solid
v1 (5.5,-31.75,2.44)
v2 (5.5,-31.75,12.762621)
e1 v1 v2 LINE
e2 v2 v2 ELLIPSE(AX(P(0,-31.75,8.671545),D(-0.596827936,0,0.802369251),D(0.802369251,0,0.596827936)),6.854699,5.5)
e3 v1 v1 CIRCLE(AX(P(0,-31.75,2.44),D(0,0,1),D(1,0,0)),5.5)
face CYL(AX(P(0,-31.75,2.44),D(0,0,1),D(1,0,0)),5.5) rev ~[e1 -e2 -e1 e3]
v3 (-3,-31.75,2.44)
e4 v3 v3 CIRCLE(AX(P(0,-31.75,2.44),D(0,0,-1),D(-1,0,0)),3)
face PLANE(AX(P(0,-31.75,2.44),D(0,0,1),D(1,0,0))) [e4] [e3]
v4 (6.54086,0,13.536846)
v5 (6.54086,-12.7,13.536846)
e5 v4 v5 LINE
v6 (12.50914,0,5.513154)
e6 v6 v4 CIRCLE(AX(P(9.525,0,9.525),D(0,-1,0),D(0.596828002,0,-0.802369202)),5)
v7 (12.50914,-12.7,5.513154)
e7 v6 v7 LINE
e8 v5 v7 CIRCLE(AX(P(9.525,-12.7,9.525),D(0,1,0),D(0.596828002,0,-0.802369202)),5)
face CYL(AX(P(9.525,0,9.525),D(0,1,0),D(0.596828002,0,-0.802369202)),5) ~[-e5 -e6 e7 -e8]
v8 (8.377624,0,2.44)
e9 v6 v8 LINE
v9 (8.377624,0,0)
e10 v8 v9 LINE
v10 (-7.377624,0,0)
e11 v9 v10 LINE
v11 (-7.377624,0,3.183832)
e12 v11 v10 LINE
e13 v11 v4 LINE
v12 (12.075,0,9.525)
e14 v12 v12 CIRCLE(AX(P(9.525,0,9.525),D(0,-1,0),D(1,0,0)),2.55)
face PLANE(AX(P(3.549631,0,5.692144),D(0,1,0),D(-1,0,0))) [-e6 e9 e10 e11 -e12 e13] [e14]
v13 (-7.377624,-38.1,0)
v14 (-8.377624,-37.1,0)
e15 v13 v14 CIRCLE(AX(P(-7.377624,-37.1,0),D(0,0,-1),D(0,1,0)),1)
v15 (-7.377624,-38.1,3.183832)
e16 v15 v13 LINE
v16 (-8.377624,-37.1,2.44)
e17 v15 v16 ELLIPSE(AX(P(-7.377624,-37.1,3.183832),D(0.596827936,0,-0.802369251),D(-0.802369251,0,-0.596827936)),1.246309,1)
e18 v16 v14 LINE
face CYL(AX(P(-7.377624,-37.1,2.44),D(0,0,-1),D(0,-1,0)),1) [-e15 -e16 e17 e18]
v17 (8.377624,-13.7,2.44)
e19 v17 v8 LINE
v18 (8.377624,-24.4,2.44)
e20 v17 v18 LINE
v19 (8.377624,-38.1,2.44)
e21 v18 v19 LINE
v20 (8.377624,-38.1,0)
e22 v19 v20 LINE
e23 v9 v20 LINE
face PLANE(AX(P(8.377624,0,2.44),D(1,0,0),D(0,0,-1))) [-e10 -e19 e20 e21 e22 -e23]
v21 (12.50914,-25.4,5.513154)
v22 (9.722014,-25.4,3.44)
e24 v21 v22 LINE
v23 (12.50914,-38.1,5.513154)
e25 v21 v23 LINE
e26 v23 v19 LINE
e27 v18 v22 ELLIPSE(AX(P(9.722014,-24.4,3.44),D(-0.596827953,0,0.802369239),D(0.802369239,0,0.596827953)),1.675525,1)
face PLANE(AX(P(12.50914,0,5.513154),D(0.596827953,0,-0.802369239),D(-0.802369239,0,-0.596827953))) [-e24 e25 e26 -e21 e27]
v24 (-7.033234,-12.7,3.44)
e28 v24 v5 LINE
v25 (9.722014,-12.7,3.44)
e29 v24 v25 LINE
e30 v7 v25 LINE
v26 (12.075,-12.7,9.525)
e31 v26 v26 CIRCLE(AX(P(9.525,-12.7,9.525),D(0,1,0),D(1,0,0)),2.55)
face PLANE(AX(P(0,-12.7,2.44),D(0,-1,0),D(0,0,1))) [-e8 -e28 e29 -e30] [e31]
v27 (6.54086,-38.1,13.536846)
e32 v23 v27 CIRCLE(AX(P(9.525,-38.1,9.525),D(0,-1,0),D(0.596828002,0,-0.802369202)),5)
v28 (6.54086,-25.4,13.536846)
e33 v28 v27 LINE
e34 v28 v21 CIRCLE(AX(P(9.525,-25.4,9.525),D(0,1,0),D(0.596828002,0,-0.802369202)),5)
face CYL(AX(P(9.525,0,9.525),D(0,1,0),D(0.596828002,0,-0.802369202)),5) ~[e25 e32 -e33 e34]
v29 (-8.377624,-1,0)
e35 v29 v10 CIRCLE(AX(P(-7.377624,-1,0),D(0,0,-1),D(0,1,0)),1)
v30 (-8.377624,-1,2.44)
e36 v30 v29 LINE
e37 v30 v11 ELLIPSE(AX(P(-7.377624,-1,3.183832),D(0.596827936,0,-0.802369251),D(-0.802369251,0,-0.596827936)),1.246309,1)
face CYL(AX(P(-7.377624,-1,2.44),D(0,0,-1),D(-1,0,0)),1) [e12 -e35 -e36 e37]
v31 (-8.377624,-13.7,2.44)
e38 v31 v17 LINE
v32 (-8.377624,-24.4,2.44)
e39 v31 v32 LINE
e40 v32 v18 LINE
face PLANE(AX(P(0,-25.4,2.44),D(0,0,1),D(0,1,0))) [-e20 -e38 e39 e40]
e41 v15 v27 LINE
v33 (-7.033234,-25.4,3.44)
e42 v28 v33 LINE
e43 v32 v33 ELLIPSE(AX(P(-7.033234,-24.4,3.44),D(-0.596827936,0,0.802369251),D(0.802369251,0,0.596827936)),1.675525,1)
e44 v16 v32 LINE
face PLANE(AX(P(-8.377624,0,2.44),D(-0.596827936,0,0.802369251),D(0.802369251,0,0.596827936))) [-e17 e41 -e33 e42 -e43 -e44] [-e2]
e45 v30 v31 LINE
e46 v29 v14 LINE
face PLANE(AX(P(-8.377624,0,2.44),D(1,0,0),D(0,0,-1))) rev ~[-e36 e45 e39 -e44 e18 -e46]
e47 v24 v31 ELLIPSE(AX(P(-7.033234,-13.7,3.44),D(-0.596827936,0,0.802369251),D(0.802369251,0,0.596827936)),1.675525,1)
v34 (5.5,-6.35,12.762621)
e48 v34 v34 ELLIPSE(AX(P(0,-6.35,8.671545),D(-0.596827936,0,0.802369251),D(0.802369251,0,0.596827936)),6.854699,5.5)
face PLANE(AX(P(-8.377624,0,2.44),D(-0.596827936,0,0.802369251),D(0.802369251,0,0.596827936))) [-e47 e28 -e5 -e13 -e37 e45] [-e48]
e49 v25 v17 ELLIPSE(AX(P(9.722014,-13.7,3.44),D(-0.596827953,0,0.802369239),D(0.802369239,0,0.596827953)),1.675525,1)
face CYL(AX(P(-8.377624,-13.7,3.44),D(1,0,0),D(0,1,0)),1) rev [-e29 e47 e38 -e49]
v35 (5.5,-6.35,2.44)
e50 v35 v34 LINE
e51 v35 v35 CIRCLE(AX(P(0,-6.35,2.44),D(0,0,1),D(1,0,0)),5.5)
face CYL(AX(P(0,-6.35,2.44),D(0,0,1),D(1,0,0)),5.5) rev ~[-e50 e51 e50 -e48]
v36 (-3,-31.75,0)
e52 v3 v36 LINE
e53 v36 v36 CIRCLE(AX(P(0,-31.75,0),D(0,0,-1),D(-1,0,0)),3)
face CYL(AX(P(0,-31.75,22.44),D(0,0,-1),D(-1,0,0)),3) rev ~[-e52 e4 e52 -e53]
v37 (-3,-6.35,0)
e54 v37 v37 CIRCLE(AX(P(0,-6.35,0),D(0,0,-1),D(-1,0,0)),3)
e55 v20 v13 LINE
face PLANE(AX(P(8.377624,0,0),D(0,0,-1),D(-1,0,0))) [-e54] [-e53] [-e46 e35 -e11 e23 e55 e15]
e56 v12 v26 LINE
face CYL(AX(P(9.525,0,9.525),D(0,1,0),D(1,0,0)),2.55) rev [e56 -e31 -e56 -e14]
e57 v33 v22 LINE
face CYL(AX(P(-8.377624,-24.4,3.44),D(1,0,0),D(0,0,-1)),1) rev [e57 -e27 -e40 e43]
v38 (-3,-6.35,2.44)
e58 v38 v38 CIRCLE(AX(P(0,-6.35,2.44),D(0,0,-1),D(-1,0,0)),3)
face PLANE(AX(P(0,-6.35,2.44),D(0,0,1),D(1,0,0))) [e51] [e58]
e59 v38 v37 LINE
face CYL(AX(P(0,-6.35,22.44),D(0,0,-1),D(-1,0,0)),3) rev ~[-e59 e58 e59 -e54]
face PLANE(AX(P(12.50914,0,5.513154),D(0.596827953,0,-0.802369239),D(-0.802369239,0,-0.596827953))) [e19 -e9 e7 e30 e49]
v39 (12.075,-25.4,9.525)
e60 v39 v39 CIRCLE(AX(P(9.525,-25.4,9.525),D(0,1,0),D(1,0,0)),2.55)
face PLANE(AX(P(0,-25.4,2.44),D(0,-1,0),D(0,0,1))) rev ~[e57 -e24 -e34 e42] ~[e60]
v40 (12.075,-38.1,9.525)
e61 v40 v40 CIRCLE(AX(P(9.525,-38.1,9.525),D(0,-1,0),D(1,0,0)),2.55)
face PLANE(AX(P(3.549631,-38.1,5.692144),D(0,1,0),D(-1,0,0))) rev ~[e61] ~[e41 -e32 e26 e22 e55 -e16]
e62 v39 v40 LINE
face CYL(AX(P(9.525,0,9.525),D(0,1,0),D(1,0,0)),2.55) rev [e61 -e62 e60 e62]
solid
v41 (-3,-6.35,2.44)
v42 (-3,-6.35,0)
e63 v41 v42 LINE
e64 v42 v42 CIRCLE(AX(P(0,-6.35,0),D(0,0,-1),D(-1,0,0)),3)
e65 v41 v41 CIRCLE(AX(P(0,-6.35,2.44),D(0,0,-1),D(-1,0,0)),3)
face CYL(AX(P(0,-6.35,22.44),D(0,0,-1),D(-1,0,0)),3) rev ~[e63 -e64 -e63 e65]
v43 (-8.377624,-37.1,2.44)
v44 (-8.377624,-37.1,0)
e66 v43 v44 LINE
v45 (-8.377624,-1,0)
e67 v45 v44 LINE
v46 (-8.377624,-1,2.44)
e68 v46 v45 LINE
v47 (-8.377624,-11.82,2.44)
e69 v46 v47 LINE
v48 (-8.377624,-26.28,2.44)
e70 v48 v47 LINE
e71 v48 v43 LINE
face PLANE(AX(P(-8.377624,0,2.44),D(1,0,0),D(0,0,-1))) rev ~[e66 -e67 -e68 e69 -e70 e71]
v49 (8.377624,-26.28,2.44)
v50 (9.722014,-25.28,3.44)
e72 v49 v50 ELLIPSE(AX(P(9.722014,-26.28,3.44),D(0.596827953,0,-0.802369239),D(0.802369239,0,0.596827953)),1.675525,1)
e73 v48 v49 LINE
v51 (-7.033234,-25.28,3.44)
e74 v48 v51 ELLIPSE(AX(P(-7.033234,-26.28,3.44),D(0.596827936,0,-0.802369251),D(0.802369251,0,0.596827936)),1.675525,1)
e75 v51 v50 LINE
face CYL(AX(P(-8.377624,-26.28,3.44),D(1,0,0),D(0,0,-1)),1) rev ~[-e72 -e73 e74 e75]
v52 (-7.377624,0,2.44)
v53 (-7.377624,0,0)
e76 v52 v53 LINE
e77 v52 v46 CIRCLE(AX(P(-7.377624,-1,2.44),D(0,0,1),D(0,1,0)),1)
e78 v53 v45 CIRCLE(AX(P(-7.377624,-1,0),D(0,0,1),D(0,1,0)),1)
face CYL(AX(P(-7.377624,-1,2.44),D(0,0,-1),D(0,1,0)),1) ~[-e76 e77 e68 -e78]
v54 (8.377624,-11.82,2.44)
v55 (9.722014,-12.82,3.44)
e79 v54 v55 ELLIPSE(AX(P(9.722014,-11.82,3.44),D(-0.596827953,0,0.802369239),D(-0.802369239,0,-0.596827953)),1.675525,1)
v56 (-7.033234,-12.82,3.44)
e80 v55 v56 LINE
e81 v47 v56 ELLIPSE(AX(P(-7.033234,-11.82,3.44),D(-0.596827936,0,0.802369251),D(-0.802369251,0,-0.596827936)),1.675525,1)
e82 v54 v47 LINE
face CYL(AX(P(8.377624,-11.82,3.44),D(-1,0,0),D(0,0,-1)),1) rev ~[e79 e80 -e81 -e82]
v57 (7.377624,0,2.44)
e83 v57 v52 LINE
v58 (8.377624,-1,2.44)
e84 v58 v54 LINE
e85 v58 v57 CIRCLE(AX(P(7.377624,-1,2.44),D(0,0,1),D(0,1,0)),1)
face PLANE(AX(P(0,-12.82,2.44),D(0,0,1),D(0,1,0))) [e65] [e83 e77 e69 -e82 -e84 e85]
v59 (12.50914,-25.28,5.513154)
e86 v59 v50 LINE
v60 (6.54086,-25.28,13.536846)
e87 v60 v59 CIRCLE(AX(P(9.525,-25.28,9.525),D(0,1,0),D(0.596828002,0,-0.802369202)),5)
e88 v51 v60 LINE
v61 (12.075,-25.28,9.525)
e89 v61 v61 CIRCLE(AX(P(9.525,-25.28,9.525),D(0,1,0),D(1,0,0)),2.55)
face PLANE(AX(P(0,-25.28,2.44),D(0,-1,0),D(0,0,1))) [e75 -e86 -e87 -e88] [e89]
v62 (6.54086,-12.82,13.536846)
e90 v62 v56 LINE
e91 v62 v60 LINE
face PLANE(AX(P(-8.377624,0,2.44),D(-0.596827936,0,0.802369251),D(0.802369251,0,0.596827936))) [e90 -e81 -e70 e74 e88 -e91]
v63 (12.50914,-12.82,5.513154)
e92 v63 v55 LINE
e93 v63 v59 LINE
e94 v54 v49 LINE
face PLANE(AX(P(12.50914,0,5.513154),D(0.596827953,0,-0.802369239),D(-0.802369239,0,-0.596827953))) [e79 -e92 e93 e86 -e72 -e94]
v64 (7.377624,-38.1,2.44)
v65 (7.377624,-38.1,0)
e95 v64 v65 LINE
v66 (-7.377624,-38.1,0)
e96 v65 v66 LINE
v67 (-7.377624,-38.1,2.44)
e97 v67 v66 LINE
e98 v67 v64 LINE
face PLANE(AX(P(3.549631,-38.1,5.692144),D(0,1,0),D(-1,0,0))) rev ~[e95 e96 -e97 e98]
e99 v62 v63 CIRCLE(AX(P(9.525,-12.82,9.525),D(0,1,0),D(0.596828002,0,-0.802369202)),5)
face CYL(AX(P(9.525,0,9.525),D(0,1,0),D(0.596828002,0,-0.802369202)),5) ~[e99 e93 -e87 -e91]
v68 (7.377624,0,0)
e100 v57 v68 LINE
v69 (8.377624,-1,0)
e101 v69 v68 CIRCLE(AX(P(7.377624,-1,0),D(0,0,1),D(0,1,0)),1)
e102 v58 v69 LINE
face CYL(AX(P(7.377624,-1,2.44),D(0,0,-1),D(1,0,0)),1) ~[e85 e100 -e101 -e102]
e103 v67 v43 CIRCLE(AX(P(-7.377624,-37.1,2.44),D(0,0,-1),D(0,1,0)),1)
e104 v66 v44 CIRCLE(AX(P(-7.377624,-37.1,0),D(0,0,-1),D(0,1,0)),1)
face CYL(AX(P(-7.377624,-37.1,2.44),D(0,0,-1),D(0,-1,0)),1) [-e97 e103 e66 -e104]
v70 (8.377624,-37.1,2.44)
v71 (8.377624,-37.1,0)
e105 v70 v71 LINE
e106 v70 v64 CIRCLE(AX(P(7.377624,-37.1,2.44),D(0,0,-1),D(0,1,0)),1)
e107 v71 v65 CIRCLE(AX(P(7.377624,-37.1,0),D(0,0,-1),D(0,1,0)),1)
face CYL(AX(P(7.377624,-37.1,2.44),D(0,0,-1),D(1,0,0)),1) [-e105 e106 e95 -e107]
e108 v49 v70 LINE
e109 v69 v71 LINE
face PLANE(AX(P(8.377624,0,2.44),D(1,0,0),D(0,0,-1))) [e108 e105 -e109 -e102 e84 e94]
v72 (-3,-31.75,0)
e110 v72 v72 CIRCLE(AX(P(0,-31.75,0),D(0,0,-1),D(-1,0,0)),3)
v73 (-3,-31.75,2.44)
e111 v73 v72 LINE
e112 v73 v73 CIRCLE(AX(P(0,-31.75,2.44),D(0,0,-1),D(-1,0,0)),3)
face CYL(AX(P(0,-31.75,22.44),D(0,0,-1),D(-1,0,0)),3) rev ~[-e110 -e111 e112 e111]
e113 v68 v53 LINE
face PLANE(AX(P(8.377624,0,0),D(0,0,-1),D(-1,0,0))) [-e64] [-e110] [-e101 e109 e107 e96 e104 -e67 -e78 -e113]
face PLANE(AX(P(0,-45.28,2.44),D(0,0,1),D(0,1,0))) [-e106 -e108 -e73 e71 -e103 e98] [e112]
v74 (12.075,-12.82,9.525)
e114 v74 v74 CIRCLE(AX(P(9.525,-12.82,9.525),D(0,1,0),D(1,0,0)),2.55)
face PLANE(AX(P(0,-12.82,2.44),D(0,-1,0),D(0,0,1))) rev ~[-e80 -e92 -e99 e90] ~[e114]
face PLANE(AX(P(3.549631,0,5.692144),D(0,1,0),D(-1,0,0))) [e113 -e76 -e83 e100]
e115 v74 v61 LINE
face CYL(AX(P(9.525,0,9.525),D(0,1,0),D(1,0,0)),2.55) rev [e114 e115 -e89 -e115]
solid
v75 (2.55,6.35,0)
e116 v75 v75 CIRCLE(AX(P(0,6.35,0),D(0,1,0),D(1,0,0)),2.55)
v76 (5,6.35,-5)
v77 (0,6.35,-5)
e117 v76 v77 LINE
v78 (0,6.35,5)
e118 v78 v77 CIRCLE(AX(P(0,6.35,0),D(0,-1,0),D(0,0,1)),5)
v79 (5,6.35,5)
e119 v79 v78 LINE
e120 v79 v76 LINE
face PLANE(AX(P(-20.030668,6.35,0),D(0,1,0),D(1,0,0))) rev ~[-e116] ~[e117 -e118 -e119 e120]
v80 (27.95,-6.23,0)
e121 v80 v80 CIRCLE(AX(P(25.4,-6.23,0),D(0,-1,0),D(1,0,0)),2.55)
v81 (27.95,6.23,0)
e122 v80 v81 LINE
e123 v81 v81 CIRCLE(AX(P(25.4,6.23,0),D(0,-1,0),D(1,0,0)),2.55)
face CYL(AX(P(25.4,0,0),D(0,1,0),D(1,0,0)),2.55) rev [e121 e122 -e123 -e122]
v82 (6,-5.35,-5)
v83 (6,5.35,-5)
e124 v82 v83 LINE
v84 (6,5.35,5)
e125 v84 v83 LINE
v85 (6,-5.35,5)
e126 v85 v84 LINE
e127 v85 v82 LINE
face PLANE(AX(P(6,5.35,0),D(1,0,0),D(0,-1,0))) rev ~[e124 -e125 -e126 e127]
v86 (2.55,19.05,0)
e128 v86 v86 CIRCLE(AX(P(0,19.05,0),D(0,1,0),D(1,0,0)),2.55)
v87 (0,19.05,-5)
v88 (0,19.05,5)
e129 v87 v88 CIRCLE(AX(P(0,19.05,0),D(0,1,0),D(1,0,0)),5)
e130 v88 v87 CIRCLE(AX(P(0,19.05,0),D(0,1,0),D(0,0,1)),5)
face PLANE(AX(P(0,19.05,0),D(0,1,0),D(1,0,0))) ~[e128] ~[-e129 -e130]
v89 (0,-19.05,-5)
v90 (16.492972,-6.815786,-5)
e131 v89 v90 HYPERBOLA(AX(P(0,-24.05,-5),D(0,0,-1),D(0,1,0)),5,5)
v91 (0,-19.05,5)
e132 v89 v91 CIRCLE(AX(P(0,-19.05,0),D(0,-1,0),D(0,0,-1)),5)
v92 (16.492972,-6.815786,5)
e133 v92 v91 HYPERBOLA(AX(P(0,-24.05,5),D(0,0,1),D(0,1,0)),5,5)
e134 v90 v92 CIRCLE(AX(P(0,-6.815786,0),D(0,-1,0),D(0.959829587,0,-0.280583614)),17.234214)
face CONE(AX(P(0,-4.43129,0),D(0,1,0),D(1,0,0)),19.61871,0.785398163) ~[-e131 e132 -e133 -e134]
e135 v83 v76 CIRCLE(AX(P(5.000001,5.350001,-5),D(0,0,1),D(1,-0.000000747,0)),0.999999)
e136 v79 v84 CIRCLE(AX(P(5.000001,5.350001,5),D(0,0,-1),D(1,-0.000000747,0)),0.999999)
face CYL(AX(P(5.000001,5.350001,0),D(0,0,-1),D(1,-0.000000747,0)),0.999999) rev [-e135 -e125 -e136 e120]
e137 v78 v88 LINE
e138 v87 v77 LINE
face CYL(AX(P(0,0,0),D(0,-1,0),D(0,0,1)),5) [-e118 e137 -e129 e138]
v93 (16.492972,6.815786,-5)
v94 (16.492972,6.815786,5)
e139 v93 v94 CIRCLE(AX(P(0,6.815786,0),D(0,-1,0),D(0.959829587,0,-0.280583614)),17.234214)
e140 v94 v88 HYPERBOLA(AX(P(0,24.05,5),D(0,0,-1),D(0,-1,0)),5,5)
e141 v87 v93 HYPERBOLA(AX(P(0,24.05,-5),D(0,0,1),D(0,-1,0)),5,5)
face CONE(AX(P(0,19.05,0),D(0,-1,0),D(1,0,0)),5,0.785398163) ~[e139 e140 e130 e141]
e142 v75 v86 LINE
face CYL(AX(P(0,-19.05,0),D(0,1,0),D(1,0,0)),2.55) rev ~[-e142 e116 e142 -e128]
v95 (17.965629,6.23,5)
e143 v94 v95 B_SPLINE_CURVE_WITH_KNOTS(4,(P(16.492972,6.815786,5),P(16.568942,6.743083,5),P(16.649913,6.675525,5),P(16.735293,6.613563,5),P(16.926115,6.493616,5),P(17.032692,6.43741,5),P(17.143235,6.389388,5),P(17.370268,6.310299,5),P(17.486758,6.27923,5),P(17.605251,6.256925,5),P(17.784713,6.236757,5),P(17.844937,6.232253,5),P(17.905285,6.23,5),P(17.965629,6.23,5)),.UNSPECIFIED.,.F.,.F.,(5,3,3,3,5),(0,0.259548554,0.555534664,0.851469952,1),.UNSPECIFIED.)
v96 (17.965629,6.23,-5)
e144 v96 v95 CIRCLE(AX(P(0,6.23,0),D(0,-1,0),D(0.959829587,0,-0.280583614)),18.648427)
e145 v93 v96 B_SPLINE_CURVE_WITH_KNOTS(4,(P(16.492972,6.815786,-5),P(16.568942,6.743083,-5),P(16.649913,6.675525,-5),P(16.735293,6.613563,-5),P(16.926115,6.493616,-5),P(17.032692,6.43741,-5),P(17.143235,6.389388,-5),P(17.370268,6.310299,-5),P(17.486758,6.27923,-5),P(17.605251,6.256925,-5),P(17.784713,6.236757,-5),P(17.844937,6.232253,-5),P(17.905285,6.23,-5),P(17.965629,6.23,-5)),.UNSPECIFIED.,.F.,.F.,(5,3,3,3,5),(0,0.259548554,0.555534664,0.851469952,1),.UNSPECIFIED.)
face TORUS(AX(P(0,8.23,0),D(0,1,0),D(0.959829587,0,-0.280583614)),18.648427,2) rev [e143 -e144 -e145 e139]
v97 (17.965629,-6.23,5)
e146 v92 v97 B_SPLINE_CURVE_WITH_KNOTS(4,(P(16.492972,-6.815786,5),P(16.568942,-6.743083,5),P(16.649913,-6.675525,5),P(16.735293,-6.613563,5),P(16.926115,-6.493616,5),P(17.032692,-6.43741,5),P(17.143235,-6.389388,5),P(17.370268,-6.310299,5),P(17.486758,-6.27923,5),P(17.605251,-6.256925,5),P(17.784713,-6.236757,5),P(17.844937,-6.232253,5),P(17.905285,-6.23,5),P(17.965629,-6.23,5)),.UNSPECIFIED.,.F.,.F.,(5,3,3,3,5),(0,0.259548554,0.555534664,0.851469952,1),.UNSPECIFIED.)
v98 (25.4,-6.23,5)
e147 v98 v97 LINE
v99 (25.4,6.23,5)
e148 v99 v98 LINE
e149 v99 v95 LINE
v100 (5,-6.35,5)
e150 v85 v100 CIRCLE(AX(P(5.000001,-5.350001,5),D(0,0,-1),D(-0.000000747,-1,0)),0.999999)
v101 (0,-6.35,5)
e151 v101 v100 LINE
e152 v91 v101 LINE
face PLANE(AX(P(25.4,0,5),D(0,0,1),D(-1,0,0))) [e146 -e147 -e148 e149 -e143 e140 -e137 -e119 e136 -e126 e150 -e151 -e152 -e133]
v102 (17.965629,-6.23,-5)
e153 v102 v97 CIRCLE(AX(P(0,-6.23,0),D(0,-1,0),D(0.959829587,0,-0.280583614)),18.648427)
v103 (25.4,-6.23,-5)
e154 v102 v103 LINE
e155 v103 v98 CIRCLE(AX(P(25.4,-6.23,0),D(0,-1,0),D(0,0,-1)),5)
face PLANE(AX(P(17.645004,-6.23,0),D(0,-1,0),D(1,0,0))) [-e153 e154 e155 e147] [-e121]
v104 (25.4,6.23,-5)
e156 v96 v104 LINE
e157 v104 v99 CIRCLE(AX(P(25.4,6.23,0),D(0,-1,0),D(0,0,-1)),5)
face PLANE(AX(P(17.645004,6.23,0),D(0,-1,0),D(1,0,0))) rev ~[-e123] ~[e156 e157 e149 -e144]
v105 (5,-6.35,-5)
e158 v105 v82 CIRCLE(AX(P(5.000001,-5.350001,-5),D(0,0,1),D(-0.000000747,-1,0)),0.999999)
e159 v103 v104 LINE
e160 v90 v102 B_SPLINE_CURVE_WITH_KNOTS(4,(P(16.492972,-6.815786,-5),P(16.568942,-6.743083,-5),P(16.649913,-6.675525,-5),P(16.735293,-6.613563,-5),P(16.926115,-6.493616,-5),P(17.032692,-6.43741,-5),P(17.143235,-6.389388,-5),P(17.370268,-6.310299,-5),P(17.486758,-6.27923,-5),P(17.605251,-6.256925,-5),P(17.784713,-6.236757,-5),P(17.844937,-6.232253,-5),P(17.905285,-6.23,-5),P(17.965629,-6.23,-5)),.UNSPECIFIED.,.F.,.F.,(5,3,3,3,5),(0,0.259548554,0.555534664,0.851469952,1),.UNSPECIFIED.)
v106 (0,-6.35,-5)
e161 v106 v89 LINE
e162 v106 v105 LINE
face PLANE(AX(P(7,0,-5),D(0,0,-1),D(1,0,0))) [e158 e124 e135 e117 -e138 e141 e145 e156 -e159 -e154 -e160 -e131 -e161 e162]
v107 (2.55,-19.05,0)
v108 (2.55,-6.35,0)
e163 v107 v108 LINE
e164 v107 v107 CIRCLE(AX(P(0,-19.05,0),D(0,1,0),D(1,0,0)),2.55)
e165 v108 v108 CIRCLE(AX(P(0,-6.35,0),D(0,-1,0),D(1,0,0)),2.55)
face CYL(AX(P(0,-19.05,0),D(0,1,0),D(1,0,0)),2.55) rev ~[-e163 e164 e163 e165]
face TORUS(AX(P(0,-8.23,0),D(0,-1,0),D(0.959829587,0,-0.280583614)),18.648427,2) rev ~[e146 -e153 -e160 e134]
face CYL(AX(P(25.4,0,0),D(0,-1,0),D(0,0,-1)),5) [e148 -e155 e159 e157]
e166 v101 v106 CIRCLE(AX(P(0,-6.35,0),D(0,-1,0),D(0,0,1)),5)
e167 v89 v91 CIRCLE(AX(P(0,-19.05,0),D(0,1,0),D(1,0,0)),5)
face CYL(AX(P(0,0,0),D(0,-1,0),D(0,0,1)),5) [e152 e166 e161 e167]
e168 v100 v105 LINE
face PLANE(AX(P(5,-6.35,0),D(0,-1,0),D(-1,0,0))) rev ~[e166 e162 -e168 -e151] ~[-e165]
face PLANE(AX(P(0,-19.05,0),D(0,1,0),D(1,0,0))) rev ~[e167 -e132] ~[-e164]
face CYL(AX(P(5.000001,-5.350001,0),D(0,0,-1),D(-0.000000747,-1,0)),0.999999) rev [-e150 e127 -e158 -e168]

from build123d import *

# Parameters (mm, degrees)
SKETCH004_R          = 2.55
PAD001_DEPTH         = 38.1
HOLE001_D            = 6
HOLE001_CBORE_D      = 11
HOLE001_CBORE_DEPTH  = 20
SKETCH006_W          = 12.7
SKETCH006_H          = 20
POCKET001_DEPTH      = 8.378624
POCKET001_DEPTH_BACK = -14.526
FILLET001_R          = 1
FILLET002_R          = 1
SKETCH009_R          = 2.55
PAD002_DEPTH         = 38.1
HOLE002_D            = 6
HOLE002_CBORE_D      = 11
HOLE002_CBORE_DEPTH  = 20
SKETCH008_W          = 20
SKETCH008_H          = 20
POCKET002_DEPTH      = 8.378624
POCKET002_DEPTH_BACK = -14.526
FILLET_R             = 1
FILLET003_R          = 1
POCKET_DEPTH         = 19.051
POCKET_DEPTH_BACK    = -19.051
SKETCH011_R          = 2.55
PAD_DEPTH            = 6.23
POCKET003_DEPTH      = 5.001
POCKET003_DEPTH_BACK = -5.001
FILLET004_R          = 2


with BuildPart() as hinge_a:
    # Sketch004 → Pad001 (new body)
    with BuildSketch(Plane.XZ):
        with BuildLine():
            Line((-8.377624, 2.44), (6.54086, 13.536846))
            ThreePointArc((12.50914, 5.513154), (13.536846, 12.50914), (6.54086, 13.536846))
            Line((12.50914, 5.513154), (8.377624, 2.44))
            Line((8.377624, 2.44), (8.377624, 0))
            Line((8.377624, 0), (-8.377624, 0))
            Line((-8.377624, 2.44), (-8.377624, 0))
        make_face()
        with Locations((9.525, 9.525)):
            Circle(SKETCH004_R, mode=Mode.SUBTRACT)
    extrude(amount=PAD001_DEPTH)

    # Hole001 (through all)
    with Locations(Plane.XY.offset(22.44)):
        with Locations((0, -6.35), (0, -31.75)):
            CounterBoreHole(HOLE001_D / 2, HOLE001_CBORE_D / 2, HOLE001_CBORE_DEPTH)

    # Sketch006 → Pocket001 (cut, two sides)
    with BuildSketch(Plane.YZ) as pocket001_sk:
        with Locations((-19.05, 12.44)):
            Rectangle(SKETCH006_W, SKETCH006_H)
    extrude(amount=-POCKET001_DEPTH, mode=Mode.SUBTRACT)
    extrude(pocket001_sk.sketch, amount=-POCKET001_DEPTH_BACK, mode=Mode.SUBTRACT)

    # Fillet001
    fillet001_edges = [hinge_a.edges().sort_by_distance(p)[0] for p in [
        (-8.377624, -38.1, 1.22),
        (-8.377624, 0, 1.22),
    ]]
    fillet(fillet001_edges, radius=FILLET001_R)

    # Fillet002
    fillet002_edges = [hinge_a.edges().sort_by_distance(p)[0] for p in [
        (0, -25.4, 2.44),
        (0, -12.7, 2.44),
    ]]
    fillet(fillet002_edges, radius=FILLET002_R)


with BuildPart() as hinge_b:
    # Sketch009 → Pad002 (new body)
    with BuildSketch(Plane.XZ):
        with BuildLine():
            Line((-8.377624, 2.44), (6.54086, 13.536846))
            ThreePointArc((12.50914, 5.513154), (13.536846, 12.50914), (6.54086, 13.536846))
            Line((12.50914, 5.513154), (8.377624, 2.44))
            Line((8.377624, 2.44), (8.377624, 0))
            Line((8.377624, 0), (-8.377624, 0))
            Line((-8.377624, 2.44), (-8.377624, 0))
        make_face()
        with Locations((9.525, 9.525)):
            Circle(SKETCH009_R, mode=Mode.SUBTRACT)
    extrude(amount=PAD002_DEPTH)

    # Hole002 (through all)
    with Locations(Plane.XY.offset(22.44)):
        with Locations((0, -6.35), (0, -31.75)):
            CounterBoreHole(HOLE002_D / 2, HOLE002_CBORE_D / 2, HOLE002_CBORE_DEPTH)

    # Sketch008 → Pocket002 (cut, two sides)
    with BuildSketch(Plane.YZ) as pocket002_sk:
        with Locations((-35.28, 12.44)):
            Rectangle(SKETCH008_W, SKETCH008_H)
        with Locations((-2.82, 12.44)):
            Rectangle(SKETCH008_W, SKETCH008_H)
    extrude(amount=-POCKET002_DEPTH, mode=Mode.SUBTRACT)
    extrude(pocket002_sk.sketch, amount=-POCKET002_DEPTH_BACK, mode=Mode.SUBTRACT)

    # Fillet
    fillet_edges = [hinge_b.edges().sort_by_distance(p)[0] for p in [
        (8.377624, -38.1, 1.22),
        (-8.377624, -38.1, 1.22),
        (-8.377624, 0, 1.22),
        (8.377624, 0, 1.22),
    ]]
    fillet(fillet_edges, radius=FILLET_R)

    # Fillet003
    fillet003_edges = [hinge_b.edges().sort_by_distance(p)[0] for p in [
        (0, -12.82, 2.44),
        (0, -25.28, 2.44),
    ]]
    fillet(fillet003_edges, radius=FILLET003_R)


with BuildPart() as hinge_c:
    # Sketch → Revolution (revolve)
    with BuildSketch(Plane.XY):
        Polygon((2.55, 19.05), (5, 19.05), (19.61871, 4.43129), (19.61871, -4.43129), (5, -19.05), (2.55, -19.05), align=None)
    revolve(axis=Axis((0, 0, 0), (0, 1, 0)))

    # Sketch010 → Pocket (cut, two sides)
    with BuildSketch(Plane.XZ) as pocket_sk:
        with BuildLine():
            ThreePointArc((0, 5), (-5, 0), (0, -5))
            Line((76.42244, -5), (0, -5))
            Line((76.42244, -50.302998), (76.42244, -5))
            Line((-42.638504, -50.302998), (76.42244, -50.302998))
            Line((-42.638504, 50.107578), (-42.638504, -50.302998))
            Line((76.42244, 50.107578), (-42.638504, 50.107578))
            Line((76.42244, 5), (76.42244, 50.107578))
            Line((0, 5), (76.42244, 5))
        make_face()
    extrude(amount=-POCKET_DEPTH, mode=Mode.SUBTRACT)
    extrude(pocket_sk.sketch, amount=-POCKET_DEPTH_BACK, mode=Mode.SUBTRACT)

    # Sketch011 → Pad (join, symmetric)
    with BuildSketch(Plane.XZ):
        with BuildLine():
            ThreePointArc((25.4, -5), (30.4, 0), (25.4, 5))
            Line((25.4, 5), (7, 5))
            Line((7, 5), (7, -5))
            Line((7, -5), (25.4, -5))
        make_face()
        with Locations((25.4, 0)):
            Circle(SKETCH011_R, mode=Mode.SUBTRACT)
    extrude(amount=PAD_DEPTH, both=True)

    # Sketch012 → Pocket003 (cut, two sides)
    with BuildSketch(Plane.XY) as pocket003_sk:
        with BuildLine():
            Line((-20.030668, 6.35), (5, 6.35))
            ThreePointArc((6, 5.35), (5.707107, 6.057107), (5, 6.35))
            Line((6, 5.35), (6, -5.35))
            ThreePointArc((5, -6.35), (5.707107, -6.057107), (6, -5.35))
            Line((5, -6.35), (-20.030668, -6.35))
            Line((-20.030668, -6.35), (-20.030668, 6.35))
        make_face()
    extrude(amount=-POCKET003_DEPTH, mode=Mode.SUBTRACT)
    extrude(pocket003_sk.sketch, amount=-POCKET003_DEPTH_BACK, mode=Mode.SUBTRACT)

    # Fillet004
    fillet004_edges = [hinge_c.edges().sort_by_distance(p)[0] for p in [
        (17.640133, 6.23, -2.525491),
        (17.640133, 6.23, 2.525491),
        (17.640133, -6.23, 2.525491),
        (17.640133, -6.23, -2.525491),
    ]]
    fillet(fillet004_edges, radius=FILLET004_R)


solid = Compound([hinge_a.part, hinge_b.part, hinge_c.part])
